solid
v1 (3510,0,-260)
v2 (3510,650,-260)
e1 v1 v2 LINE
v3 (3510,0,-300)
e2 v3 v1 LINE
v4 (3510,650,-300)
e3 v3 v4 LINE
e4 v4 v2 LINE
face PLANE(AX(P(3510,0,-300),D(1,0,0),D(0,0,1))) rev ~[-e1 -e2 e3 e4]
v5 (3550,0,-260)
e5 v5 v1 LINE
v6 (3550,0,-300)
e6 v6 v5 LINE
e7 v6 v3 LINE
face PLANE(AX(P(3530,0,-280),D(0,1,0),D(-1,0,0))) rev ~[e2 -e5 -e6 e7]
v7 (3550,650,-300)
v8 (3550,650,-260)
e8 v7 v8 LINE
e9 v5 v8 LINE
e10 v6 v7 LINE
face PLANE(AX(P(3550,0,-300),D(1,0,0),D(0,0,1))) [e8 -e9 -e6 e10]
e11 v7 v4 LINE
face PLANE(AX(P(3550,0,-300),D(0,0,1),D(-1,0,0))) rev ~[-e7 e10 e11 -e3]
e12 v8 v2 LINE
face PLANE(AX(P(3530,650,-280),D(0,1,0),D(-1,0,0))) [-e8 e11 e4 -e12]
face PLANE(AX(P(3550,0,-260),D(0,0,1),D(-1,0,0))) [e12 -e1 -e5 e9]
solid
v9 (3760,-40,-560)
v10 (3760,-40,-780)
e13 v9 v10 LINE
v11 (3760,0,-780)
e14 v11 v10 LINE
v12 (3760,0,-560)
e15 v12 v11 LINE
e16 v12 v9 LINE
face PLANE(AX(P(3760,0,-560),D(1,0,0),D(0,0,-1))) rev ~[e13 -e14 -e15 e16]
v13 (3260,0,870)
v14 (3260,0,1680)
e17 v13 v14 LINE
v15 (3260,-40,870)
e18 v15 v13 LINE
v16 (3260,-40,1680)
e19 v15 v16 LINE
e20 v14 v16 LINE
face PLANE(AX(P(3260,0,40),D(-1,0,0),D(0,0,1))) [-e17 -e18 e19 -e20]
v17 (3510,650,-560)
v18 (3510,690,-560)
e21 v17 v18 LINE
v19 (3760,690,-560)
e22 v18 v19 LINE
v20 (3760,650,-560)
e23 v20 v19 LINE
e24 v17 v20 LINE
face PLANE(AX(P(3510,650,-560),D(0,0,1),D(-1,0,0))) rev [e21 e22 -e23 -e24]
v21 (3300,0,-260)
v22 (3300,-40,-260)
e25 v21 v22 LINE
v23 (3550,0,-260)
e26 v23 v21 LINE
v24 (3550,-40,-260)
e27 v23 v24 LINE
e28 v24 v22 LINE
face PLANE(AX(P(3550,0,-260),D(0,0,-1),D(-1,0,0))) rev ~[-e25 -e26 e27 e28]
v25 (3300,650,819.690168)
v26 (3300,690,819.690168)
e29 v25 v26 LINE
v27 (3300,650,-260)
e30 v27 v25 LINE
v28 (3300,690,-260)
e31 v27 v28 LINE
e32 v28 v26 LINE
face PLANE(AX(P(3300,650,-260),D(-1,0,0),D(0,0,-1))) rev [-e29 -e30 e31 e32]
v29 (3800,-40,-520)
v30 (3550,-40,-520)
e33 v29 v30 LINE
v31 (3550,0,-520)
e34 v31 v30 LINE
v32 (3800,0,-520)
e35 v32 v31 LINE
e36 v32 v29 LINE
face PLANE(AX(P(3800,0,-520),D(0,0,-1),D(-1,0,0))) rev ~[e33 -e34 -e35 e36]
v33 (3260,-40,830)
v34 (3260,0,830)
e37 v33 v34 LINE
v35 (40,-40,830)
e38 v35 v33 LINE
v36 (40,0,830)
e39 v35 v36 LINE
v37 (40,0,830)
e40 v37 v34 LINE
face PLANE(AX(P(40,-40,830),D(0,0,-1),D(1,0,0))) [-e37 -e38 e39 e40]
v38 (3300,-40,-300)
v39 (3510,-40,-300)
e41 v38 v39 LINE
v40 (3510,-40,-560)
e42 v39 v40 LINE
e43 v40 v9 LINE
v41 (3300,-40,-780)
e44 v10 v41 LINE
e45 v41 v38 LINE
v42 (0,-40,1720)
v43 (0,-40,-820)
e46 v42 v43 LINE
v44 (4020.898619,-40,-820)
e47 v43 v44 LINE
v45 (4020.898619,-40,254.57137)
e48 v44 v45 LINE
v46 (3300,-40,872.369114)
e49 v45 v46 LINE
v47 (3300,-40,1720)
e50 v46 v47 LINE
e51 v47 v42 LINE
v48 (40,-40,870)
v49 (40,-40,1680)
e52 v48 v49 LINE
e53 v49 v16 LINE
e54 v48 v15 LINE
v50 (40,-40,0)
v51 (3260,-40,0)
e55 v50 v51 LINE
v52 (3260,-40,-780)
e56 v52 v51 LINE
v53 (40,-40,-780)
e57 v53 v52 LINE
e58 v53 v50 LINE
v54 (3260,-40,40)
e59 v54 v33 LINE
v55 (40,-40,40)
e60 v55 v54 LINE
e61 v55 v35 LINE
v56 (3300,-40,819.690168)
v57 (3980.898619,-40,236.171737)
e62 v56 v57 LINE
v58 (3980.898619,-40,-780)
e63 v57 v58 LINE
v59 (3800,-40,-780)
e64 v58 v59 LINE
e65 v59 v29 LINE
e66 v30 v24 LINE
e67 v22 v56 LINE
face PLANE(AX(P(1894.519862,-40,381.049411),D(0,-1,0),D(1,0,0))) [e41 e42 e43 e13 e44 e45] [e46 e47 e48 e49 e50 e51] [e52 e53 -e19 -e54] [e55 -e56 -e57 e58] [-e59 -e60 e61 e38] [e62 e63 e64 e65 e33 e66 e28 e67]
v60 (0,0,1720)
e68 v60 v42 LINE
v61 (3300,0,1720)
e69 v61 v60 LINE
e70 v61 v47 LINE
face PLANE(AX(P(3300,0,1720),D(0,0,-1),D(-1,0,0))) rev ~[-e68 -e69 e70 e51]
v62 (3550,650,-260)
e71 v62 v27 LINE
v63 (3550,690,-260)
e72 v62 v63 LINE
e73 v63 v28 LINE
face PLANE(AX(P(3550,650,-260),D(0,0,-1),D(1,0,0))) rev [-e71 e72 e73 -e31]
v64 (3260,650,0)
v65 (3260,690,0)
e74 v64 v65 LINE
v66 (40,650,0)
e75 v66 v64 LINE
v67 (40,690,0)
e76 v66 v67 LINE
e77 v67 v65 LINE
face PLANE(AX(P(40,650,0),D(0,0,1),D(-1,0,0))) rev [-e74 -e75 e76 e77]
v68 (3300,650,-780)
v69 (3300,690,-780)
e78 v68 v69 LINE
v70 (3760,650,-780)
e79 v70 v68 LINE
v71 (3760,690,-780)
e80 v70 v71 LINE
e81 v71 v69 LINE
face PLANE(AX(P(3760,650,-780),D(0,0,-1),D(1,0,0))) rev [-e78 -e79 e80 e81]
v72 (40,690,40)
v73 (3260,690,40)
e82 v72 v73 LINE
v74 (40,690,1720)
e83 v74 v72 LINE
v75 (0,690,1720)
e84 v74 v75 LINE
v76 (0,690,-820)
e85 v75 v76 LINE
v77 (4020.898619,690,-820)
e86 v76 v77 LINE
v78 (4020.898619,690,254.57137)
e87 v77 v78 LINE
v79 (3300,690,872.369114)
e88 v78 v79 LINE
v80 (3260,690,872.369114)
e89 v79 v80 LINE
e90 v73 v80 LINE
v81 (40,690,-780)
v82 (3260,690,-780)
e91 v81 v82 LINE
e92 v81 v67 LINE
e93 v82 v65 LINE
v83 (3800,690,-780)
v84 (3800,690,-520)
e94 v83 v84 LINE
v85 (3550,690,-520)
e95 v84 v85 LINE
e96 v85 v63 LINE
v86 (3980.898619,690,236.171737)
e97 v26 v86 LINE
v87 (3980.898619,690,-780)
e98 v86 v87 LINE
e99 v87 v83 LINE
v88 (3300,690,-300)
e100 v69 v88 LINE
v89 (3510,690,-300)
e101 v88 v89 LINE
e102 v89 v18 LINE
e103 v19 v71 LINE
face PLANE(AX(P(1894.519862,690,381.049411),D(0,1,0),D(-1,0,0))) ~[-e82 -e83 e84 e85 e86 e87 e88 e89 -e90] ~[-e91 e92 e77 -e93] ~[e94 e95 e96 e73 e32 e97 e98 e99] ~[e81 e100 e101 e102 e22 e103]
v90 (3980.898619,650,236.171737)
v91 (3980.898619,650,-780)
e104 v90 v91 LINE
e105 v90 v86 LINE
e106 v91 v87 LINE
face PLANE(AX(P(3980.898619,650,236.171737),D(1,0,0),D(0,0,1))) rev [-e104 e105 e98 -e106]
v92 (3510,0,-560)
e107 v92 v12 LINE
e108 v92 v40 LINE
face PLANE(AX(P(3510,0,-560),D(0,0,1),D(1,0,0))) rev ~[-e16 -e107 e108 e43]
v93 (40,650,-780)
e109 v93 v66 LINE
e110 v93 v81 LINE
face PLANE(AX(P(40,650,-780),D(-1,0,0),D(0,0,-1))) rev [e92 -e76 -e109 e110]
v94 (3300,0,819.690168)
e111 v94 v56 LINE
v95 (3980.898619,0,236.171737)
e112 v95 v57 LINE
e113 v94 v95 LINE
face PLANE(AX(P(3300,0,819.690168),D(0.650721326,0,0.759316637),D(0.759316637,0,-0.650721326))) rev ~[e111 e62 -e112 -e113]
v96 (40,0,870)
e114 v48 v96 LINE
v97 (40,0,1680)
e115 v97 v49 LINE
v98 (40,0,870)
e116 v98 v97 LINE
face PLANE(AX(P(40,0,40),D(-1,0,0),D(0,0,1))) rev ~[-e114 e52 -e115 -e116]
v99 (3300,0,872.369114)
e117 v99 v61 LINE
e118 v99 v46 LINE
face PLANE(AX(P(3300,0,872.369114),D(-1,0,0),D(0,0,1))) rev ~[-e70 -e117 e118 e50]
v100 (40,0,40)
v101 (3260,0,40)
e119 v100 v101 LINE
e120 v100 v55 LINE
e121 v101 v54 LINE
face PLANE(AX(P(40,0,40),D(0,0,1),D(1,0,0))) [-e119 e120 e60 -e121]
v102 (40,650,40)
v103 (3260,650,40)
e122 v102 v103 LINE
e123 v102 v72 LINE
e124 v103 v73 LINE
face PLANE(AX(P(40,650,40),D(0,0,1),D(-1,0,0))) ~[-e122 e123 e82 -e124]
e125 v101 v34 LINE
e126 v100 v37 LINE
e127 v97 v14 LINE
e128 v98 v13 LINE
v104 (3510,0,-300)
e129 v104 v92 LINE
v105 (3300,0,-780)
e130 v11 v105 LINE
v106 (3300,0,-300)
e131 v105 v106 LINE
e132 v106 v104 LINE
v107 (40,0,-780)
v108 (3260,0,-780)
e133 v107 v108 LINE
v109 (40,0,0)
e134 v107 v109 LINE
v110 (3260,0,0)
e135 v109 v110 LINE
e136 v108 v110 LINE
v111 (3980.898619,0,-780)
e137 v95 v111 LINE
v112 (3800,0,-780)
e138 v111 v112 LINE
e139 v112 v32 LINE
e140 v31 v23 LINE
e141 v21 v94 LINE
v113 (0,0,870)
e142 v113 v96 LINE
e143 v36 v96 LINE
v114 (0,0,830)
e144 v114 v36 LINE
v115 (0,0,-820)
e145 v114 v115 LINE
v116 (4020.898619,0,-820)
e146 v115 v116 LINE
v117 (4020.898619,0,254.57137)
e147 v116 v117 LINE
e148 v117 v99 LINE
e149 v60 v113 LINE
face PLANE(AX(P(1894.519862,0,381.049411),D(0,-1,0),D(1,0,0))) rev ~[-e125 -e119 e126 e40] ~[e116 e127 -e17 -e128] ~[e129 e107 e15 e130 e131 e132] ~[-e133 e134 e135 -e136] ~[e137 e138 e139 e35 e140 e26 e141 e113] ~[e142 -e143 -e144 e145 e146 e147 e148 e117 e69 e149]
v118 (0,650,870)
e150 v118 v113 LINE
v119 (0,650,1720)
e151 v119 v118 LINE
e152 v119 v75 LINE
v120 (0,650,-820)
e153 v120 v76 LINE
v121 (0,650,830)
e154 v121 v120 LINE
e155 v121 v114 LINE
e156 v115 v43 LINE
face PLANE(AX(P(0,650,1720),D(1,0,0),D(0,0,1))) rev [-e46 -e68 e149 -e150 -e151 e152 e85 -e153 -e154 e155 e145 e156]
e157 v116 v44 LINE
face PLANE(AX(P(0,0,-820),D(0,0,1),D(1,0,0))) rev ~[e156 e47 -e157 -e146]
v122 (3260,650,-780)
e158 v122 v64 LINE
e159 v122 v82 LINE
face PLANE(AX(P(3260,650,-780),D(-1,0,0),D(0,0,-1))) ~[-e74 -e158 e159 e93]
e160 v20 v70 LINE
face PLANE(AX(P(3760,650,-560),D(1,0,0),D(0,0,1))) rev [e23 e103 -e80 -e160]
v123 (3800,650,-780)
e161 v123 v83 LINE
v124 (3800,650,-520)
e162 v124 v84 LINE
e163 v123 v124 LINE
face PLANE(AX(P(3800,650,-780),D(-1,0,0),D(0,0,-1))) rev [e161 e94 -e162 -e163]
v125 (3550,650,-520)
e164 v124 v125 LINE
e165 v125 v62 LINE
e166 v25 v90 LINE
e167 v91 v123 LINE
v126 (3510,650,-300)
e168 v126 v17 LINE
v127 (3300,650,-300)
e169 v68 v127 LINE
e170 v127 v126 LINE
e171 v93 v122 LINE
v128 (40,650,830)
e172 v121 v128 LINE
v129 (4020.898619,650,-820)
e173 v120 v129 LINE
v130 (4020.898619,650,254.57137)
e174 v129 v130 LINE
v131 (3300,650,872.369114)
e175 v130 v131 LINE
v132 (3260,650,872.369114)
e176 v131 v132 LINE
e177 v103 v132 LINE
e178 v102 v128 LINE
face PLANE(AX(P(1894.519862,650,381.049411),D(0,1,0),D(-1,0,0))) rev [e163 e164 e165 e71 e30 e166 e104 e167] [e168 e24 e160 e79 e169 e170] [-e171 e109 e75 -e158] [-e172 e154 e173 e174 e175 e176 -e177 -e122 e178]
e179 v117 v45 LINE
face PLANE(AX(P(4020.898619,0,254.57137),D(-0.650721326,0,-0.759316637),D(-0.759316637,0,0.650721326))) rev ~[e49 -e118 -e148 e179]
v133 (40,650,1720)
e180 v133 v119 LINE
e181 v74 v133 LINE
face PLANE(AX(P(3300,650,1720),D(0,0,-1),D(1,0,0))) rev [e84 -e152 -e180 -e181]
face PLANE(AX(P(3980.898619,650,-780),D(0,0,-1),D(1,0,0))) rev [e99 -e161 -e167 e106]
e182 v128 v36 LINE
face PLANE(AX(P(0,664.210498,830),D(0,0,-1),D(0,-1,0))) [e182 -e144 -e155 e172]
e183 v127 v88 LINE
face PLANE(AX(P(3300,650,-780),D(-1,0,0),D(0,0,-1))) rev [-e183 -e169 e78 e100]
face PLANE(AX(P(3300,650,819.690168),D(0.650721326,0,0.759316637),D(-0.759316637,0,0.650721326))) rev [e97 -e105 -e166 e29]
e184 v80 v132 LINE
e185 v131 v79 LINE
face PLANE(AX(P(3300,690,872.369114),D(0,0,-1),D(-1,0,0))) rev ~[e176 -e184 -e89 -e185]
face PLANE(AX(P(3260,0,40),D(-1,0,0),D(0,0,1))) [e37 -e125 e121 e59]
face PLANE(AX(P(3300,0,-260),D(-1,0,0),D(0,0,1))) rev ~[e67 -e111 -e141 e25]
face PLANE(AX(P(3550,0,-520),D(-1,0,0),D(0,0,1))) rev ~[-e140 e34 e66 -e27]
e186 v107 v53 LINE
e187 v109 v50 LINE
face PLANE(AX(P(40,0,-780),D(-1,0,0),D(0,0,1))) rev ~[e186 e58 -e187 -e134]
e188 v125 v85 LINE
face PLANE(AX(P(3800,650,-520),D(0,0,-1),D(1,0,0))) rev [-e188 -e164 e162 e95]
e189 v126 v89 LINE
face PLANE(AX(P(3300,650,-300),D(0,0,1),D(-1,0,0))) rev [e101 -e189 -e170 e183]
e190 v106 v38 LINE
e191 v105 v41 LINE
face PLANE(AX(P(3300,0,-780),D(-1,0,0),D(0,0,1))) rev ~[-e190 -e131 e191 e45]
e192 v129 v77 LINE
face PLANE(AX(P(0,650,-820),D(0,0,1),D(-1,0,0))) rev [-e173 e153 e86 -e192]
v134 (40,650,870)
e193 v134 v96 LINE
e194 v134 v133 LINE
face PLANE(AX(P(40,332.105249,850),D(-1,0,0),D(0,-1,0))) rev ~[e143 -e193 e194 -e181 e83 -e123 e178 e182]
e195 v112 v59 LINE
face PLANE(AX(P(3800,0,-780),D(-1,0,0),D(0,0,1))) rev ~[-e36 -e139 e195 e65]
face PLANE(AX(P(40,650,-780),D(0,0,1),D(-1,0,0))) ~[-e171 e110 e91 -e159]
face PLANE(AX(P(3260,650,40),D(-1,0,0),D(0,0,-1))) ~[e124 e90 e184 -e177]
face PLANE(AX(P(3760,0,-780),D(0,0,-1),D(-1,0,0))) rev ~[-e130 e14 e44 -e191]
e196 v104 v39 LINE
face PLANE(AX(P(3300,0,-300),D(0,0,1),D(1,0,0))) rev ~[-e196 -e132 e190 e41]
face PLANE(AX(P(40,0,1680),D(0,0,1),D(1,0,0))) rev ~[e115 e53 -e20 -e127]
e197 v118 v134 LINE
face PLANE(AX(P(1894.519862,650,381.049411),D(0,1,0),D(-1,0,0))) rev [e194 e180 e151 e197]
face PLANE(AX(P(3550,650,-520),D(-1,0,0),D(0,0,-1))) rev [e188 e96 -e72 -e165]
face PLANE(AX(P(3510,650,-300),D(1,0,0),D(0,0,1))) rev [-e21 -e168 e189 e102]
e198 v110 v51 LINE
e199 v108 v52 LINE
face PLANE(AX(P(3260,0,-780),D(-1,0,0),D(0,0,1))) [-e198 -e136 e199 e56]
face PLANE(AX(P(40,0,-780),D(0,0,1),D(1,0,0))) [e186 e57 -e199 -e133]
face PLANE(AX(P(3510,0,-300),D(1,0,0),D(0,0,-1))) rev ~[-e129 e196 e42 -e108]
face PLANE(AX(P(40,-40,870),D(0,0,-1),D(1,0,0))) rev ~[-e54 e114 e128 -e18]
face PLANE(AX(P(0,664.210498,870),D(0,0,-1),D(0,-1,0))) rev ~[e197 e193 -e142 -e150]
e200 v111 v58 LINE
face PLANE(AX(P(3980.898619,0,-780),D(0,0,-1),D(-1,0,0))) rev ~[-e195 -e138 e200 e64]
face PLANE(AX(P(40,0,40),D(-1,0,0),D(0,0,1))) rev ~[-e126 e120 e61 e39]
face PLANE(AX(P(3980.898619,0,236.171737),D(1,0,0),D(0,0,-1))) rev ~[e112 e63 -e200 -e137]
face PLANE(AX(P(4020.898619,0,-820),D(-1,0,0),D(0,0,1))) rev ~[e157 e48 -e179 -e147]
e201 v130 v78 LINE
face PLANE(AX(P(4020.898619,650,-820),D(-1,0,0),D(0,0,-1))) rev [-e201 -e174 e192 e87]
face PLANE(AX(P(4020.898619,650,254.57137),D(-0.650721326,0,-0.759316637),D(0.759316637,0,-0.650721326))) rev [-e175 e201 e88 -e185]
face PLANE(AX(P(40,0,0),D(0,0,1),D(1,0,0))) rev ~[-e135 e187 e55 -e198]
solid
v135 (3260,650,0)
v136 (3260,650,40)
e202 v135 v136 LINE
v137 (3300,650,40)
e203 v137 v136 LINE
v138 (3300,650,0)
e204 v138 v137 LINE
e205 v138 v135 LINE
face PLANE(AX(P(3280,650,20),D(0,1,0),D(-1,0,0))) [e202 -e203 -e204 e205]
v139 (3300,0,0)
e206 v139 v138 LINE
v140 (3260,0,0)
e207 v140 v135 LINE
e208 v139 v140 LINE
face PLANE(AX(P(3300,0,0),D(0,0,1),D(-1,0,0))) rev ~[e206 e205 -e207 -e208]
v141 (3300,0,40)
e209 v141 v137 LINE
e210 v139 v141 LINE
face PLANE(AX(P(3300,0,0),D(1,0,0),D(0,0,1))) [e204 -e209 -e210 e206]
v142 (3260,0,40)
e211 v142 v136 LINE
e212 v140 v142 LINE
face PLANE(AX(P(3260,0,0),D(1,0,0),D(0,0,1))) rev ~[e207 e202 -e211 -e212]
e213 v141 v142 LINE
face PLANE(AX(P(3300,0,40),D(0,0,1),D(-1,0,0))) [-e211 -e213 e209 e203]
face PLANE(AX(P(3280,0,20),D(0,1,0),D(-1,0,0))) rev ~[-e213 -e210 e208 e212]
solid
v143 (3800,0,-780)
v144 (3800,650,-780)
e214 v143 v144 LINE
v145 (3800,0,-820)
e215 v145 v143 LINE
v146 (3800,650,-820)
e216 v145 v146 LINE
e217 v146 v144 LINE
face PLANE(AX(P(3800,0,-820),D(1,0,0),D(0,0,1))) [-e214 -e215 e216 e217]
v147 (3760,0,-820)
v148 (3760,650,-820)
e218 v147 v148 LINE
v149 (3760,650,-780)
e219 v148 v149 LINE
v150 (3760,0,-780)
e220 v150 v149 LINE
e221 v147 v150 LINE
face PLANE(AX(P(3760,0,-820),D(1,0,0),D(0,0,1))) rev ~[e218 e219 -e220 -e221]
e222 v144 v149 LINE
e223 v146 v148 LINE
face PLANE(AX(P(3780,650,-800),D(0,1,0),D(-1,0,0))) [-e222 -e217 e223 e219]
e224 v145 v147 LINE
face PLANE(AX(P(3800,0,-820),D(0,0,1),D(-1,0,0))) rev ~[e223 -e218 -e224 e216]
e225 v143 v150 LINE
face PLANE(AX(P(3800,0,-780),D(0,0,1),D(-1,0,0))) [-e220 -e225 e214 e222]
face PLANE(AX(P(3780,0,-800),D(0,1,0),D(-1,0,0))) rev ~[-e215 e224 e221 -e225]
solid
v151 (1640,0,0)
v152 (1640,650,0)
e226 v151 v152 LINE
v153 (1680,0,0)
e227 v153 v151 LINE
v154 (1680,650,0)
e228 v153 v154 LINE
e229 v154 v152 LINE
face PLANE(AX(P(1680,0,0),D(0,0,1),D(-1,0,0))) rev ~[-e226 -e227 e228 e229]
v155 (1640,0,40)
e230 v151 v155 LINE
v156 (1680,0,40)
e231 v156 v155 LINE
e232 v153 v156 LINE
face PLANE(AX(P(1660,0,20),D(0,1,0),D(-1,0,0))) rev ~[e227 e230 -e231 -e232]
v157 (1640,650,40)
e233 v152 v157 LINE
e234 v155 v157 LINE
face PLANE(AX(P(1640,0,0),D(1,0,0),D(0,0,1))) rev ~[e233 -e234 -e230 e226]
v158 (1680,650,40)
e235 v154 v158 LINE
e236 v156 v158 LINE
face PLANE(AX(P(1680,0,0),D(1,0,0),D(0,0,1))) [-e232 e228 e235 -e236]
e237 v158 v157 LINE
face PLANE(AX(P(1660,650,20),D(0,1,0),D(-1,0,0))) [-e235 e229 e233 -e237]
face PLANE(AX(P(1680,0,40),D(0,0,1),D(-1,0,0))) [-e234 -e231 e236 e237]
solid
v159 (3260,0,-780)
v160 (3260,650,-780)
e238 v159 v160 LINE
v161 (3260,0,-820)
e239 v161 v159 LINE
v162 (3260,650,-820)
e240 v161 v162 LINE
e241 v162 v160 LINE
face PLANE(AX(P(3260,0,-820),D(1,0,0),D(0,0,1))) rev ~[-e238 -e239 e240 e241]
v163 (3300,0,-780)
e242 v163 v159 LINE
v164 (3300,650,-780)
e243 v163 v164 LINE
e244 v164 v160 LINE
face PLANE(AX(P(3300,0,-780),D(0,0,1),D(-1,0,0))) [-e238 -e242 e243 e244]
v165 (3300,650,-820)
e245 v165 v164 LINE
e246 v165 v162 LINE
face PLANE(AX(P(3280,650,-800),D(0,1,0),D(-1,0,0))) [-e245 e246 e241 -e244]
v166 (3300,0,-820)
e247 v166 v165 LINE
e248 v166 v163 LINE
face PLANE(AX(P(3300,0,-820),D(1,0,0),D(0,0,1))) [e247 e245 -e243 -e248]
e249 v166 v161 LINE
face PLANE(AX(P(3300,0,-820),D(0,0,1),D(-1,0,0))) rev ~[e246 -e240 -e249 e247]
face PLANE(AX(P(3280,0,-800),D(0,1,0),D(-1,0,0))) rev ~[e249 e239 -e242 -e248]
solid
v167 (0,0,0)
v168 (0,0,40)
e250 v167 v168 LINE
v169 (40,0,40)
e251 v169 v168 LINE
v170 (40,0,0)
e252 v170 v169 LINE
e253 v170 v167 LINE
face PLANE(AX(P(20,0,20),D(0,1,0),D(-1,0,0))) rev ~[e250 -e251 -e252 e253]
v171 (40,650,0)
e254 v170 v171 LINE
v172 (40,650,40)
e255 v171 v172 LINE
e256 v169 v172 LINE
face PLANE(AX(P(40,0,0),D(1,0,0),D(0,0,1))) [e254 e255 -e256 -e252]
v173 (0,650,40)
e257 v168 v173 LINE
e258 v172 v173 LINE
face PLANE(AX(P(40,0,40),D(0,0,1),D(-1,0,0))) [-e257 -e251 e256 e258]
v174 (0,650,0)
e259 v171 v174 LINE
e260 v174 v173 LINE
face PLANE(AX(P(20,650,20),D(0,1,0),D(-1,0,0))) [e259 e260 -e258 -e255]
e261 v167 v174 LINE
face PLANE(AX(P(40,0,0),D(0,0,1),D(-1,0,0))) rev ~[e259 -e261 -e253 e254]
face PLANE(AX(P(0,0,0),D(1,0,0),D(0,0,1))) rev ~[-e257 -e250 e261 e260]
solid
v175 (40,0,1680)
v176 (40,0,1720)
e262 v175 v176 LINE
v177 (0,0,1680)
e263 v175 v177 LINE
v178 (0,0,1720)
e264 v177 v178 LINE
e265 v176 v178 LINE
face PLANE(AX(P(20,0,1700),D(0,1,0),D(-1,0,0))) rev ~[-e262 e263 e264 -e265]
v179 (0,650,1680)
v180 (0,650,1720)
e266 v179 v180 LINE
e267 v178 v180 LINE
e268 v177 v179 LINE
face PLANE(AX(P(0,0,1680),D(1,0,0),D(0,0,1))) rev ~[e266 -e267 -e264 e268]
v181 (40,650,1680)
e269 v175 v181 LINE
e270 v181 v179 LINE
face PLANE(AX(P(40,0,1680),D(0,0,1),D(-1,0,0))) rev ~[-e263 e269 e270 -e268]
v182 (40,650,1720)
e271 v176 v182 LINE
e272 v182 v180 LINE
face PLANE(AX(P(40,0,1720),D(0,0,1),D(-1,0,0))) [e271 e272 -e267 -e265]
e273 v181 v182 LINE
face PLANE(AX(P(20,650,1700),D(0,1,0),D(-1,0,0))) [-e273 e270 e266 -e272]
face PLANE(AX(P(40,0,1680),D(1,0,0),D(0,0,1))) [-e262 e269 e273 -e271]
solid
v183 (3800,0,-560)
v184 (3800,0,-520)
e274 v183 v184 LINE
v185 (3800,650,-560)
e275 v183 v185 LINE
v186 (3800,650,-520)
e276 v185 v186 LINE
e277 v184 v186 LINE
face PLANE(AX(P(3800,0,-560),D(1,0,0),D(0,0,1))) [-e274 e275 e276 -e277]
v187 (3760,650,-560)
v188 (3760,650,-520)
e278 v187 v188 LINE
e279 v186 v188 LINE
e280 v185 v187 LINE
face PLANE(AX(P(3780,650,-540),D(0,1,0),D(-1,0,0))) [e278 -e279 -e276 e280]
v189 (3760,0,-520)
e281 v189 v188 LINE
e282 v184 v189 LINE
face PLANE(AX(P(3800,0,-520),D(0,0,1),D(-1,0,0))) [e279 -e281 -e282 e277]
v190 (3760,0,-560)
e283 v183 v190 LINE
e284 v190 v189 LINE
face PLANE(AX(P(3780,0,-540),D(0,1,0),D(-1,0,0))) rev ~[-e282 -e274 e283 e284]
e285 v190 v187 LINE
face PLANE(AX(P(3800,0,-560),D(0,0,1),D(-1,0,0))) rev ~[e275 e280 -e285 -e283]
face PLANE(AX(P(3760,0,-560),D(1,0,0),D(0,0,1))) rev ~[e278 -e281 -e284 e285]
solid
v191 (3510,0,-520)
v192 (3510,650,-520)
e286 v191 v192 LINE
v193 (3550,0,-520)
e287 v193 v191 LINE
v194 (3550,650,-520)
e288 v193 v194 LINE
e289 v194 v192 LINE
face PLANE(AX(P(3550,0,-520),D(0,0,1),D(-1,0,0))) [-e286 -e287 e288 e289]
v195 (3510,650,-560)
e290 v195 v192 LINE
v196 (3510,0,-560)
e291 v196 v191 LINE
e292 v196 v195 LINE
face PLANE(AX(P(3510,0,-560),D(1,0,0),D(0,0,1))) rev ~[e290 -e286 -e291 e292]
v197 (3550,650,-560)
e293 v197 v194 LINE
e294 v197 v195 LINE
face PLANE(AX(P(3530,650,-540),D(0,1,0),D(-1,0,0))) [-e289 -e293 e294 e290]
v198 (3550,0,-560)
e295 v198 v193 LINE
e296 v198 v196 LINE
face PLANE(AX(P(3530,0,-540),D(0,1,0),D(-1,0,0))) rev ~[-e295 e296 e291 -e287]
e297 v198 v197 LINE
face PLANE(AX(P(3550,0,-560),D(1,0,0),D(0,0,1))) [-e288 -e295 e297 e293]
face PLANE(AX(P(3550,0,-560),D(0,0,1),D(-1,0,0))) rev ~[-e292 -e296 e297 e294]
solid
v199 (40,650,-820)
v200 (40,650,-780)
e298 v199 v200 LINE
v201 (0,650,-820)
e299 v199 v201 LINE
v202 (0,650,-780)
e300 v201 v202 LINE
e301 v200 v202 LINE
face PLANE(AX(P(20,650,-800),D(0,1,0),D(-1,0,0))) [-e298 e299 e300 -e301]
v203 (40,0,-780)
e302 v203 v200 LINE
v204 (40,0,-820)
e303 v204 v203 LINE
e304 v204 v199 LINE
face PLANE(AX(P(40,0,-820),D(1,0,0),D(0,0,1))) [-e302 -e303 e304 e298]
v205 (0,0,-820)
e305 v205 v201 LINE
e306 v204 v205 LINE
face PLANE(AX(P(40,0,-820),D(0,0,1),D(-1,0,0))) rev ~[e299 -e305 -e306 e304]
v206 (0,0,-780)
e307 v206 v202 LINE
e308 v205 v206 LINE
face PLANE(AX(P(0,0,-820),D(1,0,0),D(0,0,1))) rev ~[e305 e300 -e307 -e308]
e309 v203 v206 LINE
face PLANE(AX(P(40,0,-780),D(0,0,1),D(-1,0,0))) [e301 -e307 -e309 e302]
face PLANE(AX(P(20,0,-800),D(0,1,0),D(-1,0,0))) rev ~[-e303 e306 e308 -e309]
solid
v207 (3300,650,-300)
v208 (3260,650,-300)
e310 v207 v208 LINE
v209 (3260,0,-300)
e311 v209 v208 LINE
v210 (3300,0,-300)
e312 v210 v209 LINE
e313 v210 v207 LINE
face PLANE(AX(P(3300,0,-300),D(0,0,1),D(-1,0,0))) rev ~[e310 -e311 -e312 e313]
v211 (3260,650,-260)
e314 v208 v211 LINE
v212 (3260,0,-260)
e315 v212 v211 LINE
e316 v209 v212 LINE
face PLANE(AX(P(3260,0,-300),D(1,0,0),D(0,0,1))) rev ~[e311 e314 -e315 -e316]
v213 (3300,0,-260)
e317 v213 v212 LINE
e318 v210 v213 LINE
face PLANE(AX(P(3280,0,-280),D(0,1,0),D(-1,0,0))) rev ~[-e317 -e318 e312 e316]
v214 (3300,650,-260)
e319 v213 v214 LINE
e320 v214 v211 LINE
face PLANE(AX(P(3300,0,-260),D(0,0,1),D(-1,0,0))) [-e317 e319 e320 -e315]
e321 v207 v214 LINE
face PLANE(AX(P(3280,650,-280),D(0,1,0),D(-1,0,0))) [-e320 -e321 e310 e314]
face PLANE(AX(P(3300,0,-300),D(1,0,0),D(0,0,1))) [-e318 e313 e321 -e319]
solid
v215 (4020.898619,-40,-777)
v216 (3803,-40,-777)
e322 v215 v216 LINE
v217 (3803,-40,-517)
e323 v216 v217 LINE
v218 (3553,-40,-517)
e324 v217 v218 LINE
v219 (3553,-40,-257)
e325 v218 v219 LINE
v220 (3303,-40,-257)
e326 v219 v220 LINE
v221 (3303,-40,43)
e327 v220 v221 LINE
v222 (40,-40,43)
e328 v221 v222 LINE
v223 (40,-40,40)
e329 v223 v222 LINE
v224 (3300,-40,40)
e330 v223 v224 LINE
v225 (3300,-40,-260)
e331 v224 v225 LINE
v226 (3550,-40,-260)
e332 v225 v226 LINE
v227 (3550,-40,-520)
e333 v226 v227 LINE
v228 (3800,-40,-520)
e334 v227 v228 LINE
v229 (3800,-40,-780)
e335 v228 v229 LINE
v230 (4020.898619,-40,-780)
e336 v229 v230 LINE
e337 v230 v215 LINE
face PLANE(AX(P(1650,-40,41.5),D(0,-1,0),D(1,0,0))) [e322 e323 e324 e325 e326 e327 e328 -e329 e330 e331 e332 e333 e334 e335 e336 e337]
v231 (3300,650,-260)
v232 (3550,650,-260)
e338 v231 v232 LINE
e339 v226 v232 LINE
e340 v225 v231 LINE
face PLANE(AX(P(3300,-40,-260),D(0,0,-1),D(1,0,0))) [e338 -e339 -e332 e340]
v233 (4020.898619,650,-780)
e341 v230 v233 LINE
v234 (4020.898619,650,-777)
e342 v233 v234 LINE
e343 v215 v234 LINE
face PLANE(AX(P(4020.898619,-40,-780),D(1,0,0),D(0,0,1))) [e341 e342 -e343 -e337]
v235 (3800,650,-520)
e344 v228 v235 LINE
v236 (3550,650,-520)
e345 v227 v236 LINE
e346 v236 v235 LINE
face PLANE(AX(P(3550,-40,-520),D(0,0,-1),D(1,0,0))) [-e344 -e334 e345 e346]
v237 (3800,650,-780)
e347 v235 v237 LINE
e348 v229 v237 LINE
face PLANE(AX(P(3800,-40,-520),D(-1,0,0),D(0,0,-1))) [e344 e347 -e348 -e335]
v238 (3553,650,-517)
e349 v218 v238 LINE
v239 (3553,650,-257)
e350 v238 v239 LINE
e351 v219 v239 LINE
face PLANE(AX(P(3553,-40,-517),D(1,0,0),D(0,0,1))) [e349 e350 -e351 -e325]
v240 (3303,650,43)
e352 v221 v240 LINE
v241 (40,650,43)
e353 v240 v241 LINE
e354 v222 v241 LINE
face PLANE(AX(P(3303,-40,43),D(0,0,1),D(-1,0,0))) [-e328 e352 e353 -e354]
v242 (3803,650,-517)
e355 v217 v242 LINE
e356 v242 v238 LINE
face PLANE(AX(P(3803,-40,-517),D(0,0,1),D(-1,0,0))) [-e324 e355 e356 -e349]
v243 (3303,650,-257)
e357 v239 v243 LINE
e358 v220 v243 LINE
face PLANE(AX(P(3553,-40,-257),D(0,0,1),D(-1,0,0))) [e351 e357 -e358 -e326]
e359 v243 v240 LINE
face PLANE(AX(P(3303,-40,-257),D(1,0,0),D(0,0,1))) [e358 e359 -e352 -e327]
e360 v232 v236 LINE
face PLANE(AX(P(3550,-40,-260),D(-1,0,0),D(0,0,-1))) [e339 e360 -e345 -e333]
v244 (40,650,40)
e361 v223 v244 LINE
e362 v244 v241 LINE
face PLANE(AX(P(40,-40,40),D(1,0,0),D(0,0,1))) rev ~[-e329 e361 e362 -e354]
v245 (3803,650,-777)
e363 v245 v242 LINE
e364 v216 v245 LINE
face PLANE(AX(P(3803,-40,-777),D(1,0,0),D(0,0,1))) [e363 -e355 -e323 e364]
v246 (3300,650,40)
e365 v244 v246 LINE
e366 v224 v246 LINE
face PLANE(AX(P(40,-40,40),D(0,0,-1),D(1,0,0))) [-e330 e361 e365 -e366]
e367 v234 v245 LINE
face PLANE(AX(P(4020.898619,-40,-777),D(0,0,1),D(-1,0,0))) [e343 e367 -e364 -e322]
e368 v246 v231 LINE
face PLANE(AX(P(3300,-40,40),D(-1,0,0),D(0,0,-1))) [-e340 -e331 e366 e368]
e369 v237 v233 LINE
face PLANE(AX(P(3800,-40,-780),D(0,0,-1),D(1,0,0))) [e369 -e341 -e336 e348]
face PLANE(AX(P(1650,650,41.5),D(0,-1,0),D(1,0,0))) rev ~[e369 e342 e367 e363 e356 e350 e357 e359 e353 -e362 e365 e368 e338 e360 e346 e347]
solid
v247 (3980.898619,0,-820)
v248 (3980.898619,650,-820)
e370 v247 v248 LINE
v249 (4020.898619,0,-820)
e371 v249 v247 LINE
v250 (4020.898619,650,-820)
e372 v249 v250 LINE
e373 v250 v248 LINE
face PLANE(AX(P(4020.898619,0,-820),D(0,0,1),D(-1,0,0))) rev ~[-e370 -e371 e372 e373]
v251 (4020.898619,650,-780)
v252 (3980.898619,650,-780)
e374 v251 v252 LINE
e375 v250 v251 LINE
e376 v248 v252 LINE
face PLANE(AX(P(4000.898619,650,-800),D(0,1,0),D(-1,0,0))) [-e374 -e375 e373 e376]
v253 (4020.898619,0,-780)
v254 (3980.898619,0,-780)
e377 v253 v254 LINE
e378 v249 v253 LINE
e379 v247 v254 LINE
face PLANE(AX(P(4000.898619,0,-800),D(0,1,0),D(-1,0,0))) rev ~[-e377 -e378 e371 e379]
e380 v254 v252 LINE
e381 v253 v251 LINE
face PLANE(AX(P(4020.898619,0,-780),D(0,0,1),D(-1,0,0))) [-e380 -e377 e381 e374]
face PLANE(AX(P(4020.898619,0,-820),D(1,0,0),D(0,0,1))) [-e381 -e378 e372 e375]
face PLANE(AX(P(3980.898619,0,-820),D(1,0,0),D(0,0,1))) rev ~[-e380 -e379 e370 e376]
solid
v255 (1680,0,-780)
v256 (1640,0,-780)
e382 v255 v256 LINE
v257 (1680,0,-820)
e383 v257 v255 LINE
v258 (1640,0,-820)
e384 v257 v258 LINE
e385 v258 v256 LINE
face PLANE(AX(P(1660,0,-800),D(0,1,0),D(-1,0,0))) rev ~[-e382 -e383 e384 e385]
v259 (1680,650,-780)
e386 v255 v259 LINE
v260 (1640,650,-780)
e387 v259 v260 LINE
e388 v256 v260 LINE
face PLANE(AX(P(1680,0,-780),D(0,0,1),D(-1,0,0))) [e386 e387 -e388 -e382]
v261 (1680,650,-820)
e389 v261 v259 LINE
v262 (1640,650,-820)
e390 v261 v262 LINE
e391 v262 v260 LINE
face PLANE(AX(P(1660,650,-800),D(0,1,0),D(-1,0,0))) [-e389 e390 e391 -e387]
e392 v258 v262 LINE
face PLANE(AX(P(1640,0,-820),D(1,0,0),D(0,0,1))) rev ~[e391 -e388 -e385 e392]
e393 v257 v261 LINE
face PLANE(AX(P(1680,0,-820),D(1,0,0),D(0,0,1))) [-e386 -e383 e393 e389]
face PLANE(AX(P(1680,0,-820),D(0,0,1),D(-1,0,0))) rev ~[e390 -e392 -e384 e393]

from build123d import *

# Parameters (mm, degrees)
F0_W      = 3220
F0_H      = 780
F0_H_2    = 1640
F1_DEPTH  = 40
F2_W      = 40
F2_H      = 40
F3_DEPTH  = 650
F6_W      = 3220
F6_H      = 3
F6_W_2    = 40
F7_DEPTH  = 690
F8_W      = 40
F8_H      = 807.6308862525
F9_DEPTH  = 40
F10_W     = 3220
F10_H     = 40
F11_DEPTH = 40
F12_W     = 664.210498333
F12_H     = 40
F13_DEPTH = 40


with BuildPart() as f1:
    # F0 (on Front) → F1 (new body)
    with BuildSketch(Plane.XZ):
        Polygon((0, -820), (3300, -820), (4020.8986186981, -820), (4020.8986186981, 254.5713696399), (3300, 872.3691137475), (3300, 1720), (0, 1720), (0, 40), (0, 0), align=None)
        with Locations((1650, -390)):
            Rectangle(F0_W, F0_H, mode=Mode.SUBTRACT)
        Polygon((3760, -780), (3300, -780), (3300, -300), (3510, -300), (3510, -560), (3760, -560), align=None, mode=Mode.SUBTRACT)
        Polygon((3300, 0), (3300, 40), (3300, 819.6901679039), (3980.8986186981, 236.1717373133), (3980.8986186981, -780), (3800, -780), (3800, -520), (3550, -520), (3550, -260), (3300, -260), align=None, mode=Mode.SUBTRACT)
        with Locations((1650, 860)):
            Rectangle(F0_W, F0_H_2, mode=Mode.SUBTRACT)
    extrude(amount=F1_DEPTH)


with BuildPart() as f3:
    # F2 (on face) → F3 (new body)
    with BuildSketch(Plane(origin=(0, 0, 0), x_dir=(-1, 0, 0), z_dir=(0, 1, 0))):
        with Locations((-20, 1700)):
            Rectangle(F2_W, F2_H)
    extrude(amount=F3_DEPTH)


with BuildPart() as f3b:
    # F2 (on face) → F3, piece 2 (new body)
    with BuildSketch(Plane(origin=(0, 0, 0), x_dir=(-1, 0, 0), z_dir=(0, 1, 0))):
        with Locations((-20, 20)):
            Rectangle(F2_W, F2_H)
    extrude(amount=F3_DEPTH)


with BuildPart() as f3c:
    # F2 (on face) → F3, piece 3 (new body)
    with BuildSketch(Plane(origin=(0, 0, 0), x_dir=(-1, 0, 0), z_dir=(0, 1, 0))):
        with Locations((-20, -800)):
            Rectangle(F2_W, F2_H)
    extrude(amount=F3_DEPTH)


with BuildPart() as f3d:
    # F2 (on face) → F3, piece 4 (new body)
    with BuildSketch(Plane(origin=(0, 0, 0), x_dir=(-1, 0, 0), z_dir=(0, 1, 0))):
        with Locations((-1660, -800)):
            Rectangle(F2_W, F2_H)
    extrude(amount=F3_DEPTH)


with BuildPart() as f3e:
    # F2 (on face) → F3, piece 5 (new body)
    with BuildSketch(Plane(origin=(0, 0, 0), x_dir=(-1, 0, 0), z_dir=(0, 1, 0))):
        with Locations((-1660, 20)):
            Rectangle(F2_W, F2_H)
    extrude(amount=F3_DEPTH)


with BuildPart() as f3f:
    # F2 (on face) → F3, piece 6 (new body)
    with BuildSketch(Plane(origin=(0, 0, 0), x_dir=(-1, 0, 0), z_dir=(0, 1, 0))):
        with Locations((-3280, 20)):
            Rectangle(F2_W, F2_H)
    extrude(amount=F3_DEPTH)


with BuildPart() as f3g:
    # F2 (on face) → F3, piece 7 (new body)
    with BuildSketch(Plane(origin=(0, 0, 0), x_dir=(-1, 0, 0), z_dir=(0, 1, 0))):
        with Locations((-3280, -800)):
            Rectangle(F2_W, F2_H)
    extrude(amount=F3_DEPTH)


with BuildPart() as f3h:
    # F2 (on face) → F3, piece 8 (new body)
    with BuildSketch(Plane(origin=(0, 0, 0), x_dir=(-1, 0, 0), z_dir=(0, 1, 0))):
        with Locations((-3280, -280)):
            Rectangle(F2_W, F2_H)
    extrude(amount=F3_DEPTH)


with BuildPart() as f3i:
    # F2 (on face) → F3, piece 9 (new body)
    with BuildSketch(Plane(origin=(0, 0, 0), x_dir=(-1, 0, 0), z_dir=(0, 1, 0))):
        with Locations((-3530, -280)):
            Rectangle(F2_W, F2_H)
    extrude(amount=F3_DEPTH)


with BuildPart() as f3j:
    # F2 (on face) → F3, piece 10 (new body)
    with BuildSketch(Plane(origin=(0, 0, 0), x_dir=(-1, 0, 0), z_dir=(0, 1, 0))):
        with Locations((-3780, -540)):
            Rectangle(F2_W, F2_H)
    extrude(amount=F3_DEPTH)


with BuildPart() as f3k:
    # F2 (on face) → F3, piece 11 (new body)
    with BuildSketch(Plane(origin=(0, 0, 0), x_dir=(-1, 0, 0), z_dir=(0, 1, 0))):
        with Locations((-3530, -540)):
            Rectangle(F2_W, F2_H)
    extrude(amount=F3_DEPTH)


with BuildPart() as f3l:
    # F2 (on face) → F3, piece 12 (new body)
    with BuildSketch(Plane(origin=(0, 0, 0), x_dir=(-1, 0, 0), z_dir=(0, 1, 0))):
        with Locations((-3780, -800)):
            Rectangle(F2_W, F2_H)
    extrude(amount=F3_DEPTH)


with BuildPart() as f3m:
    # F2 (on face) → F3, piece 13 (new body)
    with BuildSketch(Plane(origin=(0, 0, 0), x_dir=(-1, 0, 0), z_dir=(0, 1, 0))):
        with Locations((-4000.8986186981, -800)):
            Rectangle(F2_W, F2_H)
    extrude(amount=F3_DEPTH)


with BuildPart() as f5_1:
    # F5: instance of F1
    add(f1.part.mirror(Plane(origin=(2064.0426238639, 325, 241.2959418139), x_dir=(1, 0, 0), z_dir=(0, 1, 0))))

    # F8 (on face) → F9 (cut)
    with BuildSketch(Plane(origin=(0, 690, 0), x_dir=(-1, 0, 0), z_dir=(0, 1, 0))):
        Polygon((-40, 1720), (-3300, 1720), (-3300, 1680), (-3260, 1680), (-40, 1680), align=None)
        with Locations((-3280, 1276.1845568738)):
            Rectangle(F8_W, F8_H)
    extrude(amount=-F9_DEPTH, mode=Mode.SUBTRACT)


with BuildPart() as f7:
    # F6 (on face) → F7 (new body)
    with BuildSketch(Plane.XZ.offset(40)):
        with Locations((1650, 41.5)):
            Rectangle(F6_W, F6_H)
        with Locations((3280, 41.5)):
            Rectangle(F6_W_2, F6_H)
        Polygon((3300, 43), (3300, 40), (3300, -260), (3550, -260), (3550, -520), (3800, -520), (3800, -780), (3980.8986186981, -780), (3980.8986186981, -777), (3803, -777), (3803, -517), (3553, -517), (3553, -257), (3303, -257), (3303, 43), align=None)
        with Locations((4000.8986186981, -778.5)):
            Rectangle(F6_W_2, F6_H)
    extrude(amount=-F7_DEPTH)


with BuildPart() as f1_1:
    add(f1.part)

    # F10 (on face) → F11 (join)
    with BuildSketch(Plane.XZ.offset(40)):
        with Locations((1650, 850)):
            Rectangle(F10_W, F10_H)
    extrude(amount=-F11_DEPTH)

    add(f5_1.part)  # F13 merges F5_1
    # F12 (on face) → F13 (join)
    with BuildSketch(Plane(origin=(0, 0, 0), x_dir=(0, -1, 0), z_dir=(-1, 0, 0))):
        with Locations((-332.1052491665, 850)):
            Rectangle(F12_W, F12_H)
    extrude(amount=-F13_DEPTH)


solid = Compound([f3.part, f3b.part, f3c.part, f3d.part, f3e.part, f3f.part, f3g.part, f3h.part, f3i.part, f3j.part, f3k.part, f3l.part, f3m.part, f7.part, f1_1.part])
